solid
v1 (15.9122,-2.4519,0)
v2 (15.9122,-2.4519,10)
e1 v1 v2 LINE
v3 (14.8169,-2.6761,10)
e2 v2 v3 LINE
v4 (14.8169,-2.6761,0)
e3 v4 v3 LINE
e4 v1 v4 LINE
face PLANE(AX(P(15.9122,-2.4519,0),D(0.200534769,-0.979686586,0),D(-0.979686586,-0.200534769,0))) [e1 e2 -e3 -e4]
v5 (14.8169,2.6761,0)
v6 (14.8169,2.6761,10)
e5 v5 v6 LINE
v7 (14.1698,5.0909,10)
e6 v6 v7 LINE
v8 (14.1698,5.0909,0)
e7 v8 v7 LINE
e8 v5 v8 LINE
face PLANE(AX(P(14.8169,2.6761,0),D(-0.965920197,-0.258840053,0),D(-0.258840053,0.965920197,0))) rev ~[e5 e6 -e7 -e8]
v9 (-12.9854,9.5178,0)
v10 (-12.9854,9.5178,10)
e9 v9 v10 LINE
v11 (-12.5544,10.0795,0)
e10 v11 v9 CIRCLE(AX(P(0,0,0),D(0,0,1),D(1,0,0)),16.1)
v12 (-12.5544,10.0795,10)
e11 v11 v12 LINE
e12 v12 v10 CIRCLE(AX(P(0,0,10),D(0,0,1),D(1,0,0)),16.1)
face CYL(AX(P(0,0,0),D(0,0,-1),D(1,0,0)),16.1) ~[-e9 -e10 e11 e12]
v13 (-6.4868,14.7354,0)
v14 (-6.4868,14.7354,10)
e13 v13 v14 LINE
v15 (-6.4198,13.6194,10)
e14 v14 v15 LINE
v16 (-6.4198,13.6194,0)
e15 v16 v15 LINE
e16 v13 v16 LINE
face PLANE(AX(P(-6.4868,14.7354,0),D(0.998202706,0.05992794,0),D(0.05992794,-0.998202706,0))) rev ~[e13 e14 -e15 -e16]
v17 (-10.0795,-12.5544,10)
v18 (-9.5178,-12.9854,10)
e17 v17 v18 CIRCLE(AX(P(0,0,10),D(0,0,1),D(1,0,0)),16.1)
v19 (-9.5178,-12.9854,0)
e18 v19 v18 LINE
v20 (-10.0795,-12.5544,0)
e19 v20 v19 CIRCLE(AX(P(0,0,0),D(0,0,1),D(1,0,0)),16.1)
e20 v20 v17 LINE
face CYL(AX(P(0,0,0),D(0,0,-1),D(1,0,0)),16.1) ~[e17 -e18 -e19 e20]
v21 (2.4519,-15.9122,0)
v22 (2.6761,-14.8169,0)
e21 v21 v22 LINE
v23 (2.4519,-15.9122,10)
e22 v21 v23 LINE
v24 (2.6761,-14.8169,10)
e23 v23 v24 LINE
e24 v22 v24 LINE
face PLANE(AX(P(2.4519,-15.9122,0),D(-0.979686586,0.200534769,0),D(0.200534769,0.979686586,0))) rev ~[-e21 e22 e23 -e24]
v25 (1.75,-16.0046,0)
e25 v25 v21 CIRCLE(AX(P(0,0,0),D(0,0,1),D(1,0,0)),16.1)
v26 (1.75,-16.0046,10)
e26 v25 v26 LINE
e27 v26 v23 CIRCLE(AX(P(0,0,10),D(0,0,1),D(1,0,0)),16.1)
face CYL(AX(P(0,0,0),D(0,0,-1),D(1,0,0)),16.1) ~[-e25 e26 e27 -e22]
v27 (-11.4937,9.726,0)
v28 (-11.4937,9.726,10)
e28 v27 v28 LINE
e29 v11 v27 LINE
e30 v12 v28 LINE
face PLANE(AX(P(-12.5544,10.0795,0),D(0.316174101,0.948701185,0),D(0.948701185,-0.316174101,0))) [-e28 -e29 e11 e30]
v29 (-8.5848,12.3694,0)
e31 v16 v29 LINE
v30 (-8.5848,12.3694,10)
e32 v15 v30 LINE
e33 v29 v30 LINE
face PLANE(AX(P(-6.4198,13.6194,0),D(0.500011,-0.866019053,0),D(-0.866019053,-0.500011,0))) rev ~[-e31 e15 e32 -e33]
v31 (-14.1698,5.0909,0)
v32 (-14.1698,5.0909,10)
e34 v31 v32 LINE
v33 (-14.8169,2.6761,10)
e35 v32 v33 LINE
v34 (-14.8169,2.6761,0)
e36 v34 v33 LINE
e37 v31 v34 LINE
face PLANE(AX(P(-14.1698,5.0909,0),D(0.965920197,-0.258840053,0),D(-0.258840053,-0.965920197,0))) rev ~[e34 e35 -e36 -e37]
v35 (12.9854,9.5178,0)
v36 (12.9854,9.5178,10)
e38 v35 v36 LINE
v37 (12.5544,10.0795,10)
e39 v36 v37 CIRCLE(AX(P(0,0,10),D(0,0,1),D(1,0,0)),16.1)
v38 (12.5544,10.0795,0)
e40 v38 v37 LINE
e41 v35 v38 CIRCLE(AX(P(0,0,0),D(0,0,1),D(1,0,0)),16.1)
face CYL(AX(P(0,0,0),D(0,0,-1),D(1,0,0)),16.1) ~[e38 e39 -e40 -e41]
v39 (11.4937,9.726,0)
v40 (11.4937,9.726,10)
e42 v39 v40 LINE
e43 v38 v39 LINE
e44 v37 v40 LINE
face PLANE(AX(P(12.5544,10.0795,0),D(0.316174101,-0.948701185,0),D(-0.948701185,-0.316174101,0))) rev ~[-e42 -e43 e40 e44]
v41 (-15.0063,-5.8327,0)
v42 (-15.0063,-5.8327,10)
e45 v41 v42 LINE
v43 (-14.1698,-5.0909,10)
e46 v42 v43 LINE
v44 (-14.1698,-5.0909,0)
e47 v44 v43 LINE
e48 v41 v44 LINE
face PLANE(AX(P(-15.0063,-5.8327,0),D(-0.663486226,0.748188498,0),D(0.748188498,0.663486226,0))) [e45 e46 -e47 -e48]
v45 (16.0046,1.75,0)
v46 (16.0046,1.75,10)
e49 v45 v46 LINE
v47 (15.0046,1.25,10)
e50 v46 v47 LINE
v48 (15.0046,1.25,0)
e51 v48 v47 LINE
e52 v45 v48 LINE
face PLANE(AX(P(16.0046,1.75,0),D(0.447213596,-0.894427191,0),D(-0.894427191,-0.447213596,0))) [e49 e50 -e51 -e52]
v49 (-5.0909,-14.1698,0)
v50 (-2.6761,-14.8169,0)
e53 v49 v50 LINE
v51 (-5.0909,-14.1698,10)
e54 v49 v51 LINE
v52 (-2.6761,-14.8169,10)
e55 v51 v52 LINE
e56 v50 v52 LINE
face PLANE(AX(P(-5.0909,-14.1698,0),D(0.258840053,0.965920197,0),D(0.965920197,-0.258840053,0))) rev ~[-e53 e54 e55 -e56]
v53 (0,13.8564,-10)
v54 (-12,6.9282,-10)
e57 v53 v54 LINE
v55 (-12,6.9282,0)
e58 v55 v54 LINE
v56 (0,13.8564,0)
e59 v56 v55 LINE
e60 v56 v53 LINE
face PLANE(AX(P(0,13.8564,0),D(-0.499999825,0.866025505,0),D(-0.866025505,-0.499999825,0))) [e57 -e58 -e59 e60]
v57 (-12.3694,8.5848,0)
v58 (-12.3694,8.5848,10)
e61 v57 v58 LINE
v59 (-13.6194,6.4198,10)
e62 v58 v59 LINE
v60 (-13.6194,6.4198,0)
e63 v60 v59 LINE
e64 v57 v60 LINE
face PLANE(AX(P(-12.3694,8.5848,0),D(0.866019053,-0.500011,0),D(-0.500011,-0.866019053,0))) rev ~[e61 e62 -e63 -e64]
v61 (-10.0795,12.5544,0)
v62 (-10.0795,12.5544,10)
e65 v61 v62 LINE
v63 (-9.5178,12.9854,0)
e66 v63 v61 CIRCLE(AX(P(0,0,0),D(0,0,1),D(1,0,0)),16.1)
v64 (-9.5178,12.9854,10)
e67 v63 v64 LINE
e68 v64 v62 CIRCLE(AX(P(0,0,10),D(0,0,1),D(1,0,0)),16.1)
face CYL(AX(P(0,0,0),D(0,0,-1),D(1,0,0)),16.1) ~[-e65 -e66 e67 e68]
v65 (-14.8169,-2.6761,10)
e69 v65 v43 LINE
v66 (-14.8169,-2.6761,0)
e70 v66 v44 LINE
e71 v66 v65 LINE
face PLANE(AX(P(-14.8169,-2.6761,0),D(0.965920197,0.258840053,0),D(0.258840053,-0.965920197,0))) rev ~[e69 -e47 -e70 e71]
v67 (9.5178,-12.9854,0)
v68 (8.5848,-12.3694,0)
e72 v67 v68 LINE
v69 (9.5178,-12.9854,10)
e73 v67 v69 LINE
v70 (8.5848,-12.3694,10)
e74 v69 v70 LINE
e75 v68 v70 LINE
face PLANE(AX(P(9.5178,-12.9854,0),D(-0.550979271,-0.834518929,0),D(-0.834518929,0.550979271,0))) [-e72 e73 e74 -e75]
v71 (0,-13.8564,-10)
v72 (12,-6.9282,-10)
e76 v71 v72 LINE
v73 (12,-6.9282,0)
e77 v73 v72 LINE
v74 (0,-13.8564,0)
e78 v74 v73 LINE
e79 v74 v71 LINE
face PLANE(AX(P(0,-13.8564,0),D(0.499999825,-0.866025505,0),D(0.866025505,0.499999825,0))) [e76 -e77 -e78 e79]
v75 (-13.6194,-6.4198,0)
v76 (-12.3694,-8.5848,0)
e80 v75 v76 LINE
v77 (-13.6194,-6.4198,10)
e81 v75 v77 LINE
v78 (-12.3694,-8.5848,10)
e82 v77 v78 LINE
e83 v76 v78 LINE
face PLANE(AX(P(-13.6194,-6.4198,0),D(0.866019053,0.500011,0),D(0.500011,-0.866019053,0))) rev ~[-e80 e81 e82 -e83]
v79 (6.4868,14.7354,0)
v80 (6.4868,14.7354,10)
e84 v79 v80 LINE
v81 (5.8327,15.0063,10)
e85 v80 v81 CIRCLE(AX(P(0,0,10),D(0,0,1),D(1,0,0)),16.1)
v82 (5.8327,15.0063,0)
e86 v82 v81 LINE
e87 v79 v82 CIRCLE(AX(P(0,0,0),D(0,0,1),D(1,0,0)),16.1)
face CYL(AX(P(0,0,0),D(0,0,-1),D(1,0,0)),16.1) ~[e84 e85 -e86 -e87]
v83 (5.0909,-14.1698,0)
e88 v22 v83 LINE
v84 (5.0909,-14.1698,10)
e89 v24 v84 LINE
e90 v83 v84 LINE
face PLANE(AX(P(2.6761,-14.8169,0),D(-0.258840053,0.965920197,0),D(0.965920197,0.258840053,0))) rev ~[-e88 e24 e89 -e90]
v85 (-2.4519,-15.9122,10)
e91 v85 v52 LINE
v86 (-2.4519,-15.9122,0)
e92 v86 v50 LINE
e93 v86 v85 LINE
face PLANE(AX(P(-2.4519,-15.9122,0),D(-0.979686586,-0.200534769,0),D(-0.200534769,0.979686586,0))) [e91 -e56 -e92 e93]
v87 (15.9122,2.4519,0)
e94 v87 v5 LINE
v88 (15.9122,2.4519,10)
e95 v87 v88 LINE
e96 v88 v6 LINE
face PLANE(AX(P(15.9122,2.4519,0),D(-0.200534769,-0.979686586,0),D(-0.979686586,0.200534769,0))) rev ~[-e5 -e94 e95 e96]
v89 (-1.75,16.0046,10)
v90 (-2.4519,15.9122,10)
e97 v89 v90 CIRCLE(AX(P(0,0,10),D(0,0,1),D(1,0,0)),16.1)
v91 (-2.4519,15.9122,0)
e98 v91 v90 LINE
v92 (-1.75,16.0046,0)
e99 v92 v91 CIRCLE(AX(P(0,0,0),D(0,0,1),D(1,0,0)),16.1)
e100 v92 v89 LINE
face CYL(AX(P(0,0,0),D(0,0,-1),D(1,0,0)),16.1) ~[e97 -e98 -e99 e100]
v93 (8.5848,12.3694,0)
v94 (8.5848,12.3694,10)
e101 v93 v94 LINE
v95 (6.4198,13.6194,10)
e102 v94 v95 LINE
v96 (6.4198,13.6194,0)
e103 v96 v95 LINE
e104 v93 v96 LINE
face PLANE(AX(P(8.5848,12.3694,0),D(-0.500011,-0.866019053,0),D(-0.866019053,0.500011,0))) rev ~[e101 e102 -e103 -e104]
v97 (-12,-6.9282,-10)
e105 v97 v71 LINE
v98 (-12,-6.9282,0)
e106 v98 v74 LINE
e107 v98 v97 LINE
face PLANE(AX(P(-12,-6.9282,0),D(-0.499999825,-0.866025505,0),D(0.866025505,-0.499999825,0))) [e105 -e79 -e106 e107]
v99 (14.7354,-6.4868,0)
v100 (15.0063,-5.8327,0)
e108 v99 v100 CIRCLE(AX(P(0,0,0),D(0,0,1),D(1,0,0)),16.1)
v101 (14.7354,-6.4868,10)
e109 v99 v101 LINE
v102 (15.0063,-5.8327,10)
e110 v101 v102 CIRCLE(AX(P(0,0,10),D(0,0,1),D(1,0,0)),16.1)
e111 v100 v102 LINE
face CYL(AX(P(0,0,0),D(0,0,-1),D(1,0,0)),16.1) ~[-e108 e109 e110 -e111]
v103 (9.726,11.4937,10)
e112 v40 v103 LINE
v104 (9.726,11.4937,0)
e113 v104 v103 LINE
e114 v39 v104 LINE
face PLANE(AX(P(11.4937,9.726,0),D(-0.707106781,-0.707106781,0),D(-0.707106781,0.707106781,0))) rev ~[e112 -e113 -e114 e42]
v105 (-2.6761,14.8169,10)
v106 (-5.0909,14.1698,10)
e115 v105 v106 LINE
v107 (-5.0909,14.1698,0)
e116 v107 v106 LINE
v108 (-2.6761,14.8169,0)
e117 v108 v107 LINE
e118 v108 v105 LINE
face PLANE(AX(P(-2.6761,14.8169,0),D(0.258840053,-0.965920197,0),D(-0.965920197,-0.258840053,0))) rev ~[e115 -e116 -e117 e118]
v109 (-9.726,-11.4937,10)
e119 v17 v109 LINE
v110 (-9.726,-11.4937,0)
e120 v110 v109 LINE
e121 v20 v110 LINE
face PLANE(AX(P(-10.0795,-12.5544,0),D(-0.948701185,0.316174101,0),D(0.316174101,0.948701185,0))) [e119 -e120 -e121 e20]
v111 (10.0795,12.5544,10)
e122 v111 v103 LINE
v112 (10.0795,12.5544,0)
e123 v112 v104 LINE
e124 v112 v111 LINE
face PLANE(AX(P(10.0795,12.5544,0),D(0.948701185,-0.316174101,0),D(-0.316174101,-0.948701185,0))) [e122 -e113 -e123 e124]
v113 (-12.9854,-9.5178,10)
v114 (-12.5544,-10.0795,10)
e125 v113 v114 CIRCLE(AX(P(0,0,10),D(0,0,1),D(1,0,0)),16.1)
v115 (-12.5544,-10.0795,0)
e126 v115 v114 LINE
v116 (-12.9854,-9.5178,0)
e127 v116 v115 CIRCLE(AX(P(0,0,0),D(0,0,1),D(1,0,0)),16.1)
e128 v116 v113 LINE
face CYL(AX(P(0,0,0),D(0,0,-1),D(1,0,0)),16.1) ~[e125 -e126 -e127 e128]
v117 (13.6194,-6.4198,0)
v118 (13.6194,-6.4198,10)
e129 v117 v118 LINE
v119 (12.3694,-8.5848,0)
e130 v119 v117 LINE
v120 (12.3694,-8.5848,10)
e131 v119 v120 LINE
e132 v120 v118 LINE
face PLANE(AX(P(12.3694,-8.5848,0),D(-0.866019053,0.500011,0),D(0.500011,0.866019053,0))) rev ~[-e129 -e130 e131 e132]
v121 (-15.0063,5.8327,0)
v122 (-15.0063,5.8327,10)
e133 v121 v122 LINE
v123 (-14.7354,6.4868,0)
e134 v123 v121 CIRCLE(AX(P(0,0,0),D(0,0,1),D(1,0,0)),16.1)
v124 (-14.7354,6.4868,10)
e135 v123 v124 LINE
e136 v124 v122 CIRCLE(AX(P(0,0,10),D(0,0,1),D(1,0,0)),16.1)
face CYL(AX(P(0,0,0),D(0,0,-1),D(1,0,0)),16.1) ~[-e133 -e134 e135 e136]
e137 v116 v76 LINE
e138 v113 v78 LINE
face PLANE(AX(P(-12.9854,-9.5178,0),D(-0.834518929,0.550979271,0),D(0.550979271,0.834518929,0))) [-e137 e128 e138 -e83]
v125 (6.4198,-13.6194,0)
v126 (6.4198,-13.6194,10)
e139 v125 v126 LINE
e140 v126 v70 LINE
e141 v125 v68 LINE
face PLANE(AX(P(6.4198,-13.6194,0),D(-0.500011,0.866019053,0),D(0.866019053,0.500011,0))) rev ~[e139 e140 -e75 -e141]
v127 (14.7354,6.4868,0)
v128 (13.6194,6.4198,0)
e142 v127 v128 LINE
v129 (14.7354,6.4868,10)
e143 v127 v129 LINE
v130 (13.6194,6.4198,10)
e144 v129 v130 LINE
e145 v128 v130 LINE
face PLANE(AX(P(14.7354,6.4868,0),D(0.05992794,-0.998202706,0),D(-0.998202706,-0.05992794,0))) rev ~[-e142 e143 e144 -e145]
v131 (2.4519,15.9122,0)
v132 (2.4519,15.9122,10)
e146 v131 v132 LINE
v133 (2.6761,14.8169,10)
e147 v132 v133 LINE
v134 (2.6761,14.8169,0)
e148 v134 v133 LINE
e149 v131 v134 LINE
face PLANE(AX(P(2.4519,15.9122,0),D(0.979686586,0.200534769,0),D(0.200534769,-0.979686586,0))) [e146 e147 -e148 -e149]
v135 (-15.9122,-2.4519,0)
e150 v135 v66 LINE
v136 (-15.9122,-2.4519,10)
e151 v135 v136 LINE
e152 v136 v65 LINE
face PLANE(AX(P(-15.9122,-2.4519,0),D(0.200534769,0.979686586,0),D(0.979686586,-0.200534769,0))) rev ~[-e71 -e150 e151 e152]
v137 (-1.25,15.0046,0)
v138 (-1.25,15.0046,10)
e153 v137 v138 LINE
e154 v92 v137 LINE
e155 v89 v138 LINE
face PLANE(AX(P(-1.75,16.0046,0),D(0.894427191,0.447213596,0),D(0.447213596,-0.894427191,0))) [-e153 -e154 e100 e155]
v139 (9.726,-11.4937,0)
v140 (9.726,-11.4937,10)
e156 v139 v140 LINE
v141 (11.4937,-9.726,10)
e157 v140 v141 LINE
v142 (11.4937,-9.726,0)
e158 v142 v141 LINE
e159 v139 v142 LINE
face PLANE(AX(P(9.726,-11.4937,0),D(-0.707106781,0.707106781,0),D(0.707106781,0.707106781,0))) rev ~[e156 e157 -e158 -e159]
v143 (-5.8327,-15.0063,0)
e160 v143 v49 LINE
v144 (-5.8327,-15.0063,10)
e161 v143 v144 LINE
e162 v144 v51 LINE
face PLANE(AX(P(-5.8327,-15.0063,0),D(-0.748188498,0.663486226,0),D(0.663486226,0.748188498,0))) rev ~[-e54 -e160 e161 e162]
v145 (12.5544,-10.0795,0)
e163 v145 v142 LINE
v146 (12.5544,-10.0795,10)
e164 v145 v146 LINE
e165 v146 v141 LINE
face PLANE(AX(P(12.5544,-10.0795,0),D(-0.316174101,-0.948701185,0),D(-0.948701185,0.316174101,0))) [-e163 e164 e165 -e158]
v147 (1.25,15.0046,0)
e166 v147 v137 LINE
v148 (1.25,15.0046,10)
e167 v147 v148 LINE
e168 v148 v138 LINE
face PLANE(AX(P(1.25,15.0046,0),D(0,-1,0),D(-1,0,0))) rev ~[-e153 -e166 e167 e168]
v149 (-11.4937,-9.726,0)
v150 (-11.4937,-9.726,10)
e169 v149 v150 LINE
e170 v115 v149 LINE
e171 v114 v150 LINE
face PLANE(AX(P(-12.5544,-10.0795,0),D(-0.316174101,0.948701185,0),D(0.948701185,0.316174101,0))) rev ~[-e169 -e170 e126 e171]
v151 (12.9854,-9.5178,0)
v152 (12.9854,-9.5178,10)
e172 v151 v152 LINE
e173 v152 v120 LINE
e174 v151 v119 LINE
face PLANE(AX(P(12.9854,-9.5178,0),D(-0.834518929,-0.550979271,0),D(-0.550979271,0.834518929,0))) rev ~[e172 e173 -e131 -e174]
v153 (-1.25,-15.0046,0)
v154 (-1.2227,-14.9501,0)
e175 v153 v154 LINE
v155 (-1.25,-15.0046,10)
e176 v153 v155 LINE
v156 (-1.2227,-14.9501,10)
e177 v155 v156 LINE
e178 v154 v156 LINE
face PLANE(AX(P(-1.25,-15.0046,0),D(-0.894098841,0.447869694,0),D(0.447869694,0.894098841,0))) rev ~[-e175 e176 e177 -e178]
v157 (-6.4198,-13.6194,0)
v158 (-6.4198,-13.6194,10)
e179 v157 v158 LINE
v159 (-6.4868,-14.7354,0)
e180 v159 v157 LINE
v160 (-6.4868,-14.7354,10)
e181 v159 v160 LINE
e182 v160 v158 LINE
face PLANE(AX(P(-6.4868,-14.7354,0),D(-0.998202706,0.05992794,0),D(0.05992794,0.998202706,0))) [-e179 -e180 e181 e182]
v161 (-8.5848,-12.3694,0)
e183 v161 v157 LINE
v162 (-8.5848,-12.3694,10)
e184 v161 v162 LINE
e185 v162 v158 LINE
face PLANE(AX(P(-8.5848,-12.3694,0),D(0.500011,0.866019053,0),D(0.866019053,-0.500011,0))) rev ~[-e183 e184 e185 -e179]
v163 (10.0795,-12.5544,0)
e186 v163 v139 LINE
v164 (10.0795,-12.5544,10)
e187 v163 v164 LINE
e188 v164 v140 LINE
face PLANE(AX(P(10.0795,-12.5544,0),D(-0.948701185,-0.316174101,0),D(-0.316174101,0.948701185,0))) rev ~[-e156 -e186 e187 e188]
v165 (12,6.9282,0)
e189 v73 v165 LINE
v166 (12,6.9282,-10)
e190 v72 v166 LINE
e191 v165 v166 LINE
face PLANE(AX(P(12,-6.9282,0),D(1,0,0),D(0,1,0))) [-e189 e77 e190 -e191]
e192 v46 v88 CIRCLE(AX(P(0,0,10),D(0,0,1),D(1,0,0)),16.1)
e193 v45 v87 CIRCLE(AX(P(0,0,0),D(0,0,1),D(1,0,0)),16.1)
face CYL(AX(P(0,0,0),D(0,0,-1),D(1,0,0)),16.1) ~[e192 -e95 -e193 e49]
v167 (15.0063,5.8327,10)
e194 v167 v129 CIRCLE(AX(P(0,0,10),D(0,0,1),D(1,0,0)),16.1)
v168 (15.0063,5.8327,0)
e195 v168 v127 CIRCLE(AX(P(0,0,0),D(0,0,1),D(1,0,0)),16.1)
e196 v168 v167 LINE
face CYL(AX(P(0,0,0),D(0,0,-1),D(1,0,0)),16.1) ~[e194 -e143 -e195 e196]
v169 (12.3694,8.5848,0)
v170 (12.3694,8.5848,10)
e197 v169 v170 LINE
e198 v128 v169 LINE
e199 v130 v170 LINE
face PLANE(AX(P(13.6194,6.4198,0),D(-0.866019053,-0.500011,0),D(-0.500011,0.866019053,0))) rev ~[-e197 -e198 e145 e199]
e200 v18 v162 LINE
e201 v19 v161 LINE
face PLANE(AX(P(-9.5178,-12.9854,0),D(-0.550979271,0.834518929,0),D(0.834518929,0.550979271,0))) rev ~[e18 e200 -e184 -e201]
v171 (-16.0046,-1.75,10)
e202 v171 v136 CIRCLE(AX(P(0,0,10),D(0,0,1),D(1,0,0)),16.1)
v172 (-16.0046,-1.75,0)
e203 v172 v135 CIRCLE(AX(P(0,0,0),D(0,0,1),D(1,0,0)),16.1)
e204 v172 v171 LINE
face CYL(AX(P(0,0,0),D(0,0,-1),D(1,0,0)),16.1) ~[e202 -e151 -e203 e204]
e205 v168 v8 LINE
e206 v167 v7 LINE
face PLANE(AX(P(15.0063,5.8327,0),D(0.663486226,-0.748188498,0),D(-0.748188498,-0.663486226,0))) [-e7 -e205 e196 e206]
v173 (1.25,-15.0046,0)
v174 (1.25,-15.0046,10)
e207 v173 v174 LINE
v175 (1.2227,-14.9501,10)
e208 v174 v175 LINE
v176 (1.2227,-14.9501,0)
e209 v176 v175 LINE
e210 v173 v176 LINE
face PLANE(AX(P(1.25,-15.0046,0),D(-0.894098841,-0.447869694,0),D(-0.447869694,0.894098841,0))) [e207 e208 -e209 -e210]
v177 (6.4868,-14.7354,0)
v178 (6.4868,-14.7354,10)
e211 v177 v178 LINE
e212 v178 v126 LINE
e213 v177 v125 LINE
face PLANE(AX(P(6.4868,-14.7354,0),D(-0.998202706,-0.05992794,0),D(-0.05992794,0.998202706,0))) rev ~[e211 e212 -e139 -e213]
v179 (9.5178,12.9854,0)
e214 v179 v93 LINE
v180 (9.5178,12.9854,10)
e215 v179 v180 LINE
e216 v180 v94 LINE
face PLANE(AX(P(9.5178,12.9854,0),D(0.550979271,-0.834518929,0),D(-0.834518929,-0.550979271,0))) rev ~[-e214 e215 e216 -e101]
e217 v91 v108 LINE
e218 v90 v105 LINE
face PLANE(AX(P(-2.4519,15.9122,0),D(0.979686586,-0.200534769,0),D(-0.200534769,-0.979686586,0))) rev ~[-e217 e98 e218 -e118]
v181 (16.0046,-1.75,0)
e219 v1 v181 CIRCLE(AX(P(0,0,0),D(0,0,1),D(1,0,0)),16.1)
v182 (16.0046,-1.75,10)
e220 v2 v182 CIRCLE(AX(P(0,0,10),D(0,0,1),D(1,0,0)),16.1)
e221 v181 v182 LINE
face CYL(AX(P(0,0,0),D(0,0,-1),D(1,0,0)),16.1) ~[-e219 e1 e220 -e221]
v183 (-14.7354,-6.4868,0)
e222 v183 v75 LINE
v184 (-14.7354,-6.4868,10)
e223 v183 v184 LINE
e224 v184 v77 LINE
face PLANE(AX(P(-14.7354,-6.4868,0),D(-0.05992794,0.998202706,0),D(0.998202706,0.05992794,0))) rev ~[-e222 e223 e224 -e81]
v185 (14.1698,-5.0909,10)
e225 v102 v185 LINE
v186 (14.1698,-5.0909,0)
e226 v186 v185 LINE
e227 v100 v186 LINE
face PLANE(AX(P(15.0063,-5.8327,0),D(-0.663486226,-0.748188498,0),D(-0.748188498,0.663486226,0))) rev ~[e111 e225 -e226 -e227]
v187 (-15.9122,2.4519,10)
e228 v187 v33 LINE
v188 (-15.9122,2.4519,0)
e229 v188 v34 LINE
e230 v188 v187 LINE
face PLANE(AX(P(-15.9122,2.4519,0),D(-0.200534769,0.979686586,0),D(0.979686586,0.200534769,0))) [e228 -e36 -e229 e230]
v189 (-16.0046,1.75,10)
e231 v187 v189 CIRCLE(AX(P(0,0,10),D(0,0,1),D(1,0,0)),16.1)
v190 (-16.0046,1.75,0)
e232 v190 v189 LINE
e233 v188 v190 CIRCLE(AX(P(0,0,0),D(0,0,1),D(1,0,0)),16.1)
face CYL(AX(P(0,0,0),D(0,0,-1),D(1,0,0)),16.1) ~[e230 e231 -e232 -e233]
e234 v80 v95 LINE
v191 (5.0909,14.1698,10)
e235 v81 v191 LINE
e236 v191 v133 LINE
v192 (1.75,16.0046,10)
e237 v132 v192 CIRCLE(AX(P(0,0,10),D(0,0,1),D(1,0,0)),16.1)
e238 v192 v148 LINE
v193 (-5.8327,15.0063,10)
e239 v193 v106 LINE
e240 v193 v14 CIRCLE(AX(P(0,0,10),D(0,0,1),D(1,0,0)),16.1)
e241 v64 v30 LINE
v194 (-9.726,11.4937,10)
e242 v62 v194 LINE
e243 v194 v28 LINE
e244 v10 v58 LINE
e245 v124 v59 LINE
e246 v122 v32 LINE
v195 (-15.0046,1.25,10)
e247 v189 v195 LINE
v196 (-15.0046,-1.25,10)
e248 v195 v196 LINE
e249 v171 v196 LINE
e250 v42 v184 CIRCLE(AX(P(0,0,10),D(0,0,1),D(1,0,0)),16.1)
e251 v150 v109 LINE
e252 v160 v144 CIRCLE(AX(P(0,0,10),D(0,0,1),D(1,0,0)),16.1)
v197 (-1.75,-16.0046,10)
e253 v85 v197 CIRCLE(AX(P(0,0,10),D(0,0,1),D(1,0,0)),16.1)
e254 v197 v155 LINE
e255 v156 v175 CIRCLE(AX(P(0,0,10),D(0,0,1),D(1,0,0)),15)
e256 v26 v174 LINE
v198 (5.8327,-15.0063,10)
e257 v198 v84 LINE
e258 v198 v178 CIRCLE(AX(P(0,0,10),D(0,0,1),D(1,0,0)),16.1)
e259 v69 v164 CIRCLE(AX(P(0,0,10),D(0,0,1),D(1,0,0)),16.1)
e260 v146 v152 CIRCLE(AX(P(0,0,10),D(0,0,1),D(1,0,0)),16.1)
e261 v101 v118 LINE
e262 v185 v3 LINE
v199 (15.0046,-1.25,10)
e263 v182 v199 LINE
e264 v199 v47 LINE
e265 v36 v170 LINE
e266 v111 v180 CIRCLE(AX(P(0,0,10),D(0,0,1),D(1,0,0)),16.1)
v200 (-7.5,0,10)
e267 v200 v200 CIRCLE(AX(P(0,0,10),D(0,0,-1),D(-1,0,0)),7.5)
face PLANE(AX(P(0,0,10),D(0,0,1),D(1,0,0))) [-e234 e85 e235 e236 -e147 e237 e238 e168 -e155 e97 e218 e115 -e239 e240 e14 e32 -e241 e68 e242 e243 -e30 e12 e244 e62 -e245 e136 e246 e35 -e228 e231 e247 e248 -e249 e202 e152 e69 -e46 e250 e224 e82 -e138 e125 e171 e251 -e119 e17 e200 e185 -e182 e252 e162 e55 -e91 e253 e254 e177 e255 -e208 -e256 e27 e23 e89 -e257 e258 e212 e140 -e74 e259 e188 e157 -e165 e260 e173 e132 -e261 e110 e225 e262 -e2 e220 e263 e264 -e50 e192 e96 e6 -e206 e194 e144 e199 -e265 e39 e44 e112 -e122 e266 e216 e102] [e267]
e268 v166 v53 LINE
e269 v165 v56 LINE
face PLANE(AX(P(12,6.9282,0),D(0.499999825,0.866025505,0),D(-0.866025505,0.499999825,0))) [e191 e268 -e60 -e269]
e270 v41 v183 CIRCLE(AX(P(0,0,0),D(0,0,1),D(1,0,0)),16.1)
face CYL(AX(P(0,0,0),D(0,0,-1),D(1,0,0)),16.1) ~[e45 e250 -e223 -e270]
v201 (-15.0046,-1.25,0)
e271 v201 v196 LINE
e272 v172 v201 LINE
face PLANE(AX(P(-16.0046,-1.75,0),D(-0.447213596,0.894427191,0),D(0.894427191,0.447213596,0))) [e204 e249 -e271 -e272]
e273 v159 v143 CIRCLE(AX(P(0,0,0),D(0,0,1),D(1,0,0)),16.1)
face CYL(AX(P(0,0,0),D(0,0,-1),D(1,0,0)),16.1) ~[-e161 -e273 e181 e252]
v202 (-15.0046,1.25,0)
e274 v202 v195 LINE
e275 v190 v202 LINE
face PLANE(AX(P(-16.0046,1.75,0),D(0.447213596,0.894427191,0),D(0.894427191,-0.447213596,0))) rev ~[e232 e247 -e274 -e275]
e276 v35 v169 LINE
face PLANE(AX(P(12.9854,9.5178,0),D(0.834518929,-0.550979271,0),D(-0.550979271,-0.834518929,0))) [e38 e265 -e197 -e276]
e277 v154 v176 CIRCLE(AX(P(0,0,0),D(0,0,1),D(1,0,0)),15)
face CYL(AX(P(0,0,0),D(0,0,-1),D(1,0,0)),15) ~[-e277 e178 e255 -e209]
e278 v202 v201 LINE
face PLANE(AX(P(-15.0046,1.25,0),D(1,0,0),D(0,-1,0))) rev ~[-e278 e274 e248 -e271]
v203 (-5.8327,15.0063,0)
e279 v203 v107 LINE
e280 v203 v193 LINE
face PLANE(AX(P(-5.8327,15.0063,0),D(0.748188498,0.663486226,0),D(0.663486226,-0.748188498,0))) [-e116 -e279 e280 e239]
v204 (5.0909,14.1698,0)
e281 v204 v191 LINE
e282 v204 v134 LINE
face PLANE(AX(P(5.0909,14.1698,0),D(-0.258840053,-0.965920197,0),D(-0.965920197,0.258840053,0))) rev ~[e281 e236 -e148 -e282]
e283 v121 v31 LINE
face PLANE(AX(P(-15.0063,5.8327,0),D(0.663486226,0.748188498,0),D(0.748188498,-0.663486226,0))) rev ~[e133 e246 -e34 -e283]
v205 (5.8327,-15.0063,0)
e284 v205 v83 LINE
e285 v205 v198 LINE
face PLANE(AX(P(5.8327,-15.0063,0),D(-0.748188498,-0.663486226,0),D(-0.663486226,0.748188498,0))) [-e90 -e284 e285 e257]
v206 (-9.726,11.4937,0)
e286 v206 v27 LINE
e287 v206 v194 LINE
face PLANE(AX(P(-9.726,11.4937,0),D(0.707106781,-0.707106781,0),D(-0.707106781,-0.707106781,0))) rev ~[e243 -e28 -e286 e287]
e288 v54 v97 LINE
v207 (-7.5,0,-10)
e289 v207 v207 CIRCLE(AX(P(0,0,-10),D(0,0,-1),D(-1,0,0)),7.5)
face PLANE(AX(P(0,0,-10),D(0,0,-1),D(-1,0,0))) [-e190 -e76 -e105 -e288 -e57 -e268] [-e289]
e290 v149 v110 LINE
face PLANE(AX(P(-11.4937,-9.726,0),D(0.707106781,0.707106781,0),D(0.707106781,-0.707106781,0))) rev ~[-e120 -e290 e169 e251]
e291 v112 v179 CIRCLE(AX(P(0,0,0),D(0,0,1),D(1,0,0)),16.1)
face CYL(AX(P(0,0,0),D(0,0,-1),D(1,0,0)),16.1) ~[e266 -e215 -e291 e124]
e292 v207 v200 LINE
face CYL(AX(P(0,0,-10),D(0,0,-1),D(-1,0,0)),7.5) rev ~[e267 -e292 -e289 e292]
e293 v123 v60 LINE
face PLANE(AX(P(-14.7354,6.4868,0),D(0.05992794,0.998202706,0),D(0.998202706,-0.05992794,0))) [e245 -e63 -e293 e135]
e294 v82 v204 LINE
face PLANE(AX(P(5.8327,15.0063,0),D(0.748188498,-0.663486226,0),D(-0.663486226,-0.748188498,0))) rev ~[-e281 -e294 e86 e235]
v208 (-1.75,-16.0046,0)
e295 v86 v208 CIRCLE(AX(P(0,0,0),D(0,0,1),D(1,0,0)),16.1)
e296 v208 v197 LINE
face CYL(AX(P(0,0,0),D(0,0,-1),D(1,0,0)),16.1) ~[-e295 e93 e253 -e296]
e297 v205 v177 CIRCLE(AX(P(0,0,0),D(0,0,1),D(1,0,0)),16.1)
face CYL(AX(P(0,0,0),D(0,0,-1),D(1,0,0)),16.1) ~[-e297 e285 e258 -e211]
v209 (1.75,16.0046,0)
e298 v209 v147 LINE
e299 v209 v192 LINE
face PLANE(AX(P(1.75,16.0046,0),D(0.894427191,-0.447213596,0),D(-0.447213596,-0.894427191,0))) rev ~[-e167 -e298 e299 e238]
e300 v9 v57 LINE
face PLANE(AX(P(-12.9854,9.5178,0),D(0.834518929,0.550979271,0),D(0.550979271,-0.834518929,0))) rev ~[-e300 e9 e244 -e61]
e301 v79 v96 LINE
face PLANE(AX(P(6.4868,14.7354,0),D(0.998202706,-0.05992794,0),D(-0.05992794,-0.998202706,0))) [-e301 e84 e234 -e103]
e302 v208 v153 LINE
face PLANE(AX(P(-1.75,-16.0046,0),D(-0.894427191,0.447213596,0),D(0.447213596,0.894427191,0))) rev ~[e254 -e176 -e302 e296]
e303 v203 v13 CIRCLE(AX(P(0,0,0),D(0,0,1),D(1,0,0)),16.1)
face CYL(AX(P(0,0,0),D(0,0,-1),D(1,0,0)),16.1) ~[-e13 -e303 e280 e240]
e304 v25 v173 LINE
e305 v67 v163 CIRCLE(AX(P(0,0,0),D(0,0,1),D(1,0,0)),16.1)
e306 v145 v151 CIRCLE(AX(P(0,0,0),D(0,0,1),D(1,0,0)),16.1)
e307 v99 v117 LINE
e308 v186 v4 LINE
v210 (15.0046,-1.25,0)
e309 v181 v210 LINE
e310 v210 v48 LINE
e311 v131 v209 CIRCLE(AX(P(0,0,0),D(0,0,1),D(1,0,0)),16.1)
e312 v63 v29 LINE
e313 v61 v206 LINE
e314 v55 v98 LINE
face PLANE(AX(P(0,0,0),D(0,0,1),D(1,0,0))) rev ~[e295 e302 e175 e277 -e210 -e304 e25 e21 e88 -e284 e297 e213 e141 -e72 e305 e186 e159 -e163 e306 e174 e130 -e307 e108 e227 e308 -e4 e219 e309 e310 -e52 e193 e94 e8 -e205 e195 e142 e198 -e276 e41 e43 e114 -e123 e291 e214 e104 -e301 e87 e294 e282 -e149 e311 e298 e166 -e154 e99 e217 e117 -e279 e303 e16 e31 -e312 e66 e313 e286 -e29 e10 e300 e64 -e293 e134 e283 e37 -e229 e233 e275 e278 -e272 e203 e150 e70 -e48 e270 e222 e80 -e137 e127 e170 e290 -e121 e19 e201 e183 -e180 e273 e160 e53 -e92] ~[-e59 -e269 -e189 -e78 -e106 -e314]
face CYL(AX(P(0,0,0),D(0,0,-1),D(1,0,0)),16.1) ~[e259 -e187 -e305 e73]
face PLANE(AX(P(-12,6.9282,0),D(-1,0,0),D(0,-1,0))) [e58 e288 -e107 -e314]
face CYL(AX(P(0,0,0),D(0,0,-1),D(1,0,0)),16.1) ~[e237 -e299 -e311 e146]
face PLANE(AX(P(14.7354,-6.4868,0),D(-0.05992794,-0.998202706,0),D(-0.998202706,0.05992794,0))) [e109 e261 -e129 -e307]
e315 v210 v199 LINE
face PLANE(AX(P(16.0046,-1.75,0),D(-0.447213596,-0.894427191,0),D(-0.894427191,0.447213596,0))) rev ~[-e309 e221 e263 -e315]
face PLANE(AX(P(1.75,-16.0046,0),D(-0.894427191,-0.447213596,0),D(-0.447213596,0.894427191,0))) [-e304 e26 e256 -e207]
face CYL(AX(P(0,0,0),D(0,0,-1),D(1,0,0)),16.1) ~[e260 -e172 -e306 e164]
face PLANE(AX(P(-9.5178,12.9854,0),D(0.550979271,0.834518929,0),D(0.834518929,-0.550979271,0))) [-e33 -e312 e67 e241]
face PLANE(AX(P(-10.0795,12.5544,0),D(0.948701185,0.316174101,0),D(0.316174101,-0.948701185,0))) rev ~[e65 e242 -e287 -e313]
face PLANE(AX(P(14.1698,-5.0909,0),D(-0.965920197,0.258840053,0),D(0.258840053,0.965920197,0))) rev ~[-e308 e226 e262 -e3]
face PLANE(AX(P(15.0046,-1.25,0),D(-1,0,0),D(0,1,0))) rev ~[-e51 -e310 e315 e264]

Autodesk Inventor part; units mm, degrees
ref_plane "YZ Plane" through (0, 0, 0) normal (1, 0, 0) x (0, 1, 0)
ref_plane "XZ Plane" through (0, 0, 0) normal (0, 1, 0) x (-1, 0, 0)
ref_plane "XY Plane" through (0, 0, 0) normal (0, 0, 1) x (1, 0, 0)
sketch "Sketch1" plane through (0, 0, 0) normal (0, 0, 1) x (1, 0, 0)
  circle A0 centre (0, 0) radius 17.25
  circle A1 centre (0, 0) radius 16.1
  circle A2 centre (0, 0) radius 15
  line L0 (-1.25, -15.0046) -> (1.25, -15.0046)
  line L1 (-1.75, -16.0046) -> (1.75, -16.0046)
  line L2 (1.75, -16.0046) -> (1.25, -15.0046)
  line L3 (-1.75, -16.0046) -> (-1.25, -15.0046)
  line L4 (-1.25, -15.0046) -> (-1.2227, -14.9501)
  line L5 (1.25, -15.0046) -> (1.2227, -14.9501)
  line L6 (2.6761, -14.8169) -> (5.0909, -14.1698)
  line L7 (2.4519, -15.9122) -> (2.6761, -14.8169)
  line L8 (2.6761, -14.8169) -> (2.6883, -14.7571)
  line L9 (5.8327, -15.0063) -> (5.0909, -14.1698)
  line L10 (5.0909, -14.1698) -> (5.0504, -14.1242)
  line L11 (6.4198, -13.6194) -> (8.5848, -12.3694)
  line L12 (6.4868, -14.7354) -> (6.4198, -13.6194)
  line L13 (6.4198, -13.6194) -> (6.4161, -13.5585)
  line L14 (9.5178, -12.9854) -> (8.5848, -12.3694)
  line L15 (8.5848, -12.3694) -> (8.534, -12.3358)
  line L16 (9.726, -11.4937) -> (11.4937, -9.726)
  line L17 (10.0795, -12.5544) -> (9.726, -11.4937)
  line L18 (9.726, -11.4937) -> (9.7067, -11.4359)
  line L19 (12.5544, -10.0795) -> (11.4937, -9.726)
  line L20 (11.4937, -9.726) -> (11.4359, -9.7067)
  line L21 (12.3694, -8.5848) -> (13.6194, -6.4198)
  line L22 (12.9854, -9.5178) -> (12.3694, -8.5848)
  line L23 (12.3694, -8.5848) -> (12.3358, -8.534)
  line L24 (14.7354, -6.4868) -> (13.6194, -6.4198)
  line L25 (13.6194, -6.4198) -> (13.5585, -6.4161)
  line L26 (14.1698, -5.0909) -> (14.8169, -2.6761)
  line L27 (15.0063, -5.8327) -> (14.1698, -5.0909)
  line L28 (14.1698, -5.0909) -> (14.1242, -5.0504)
  line L29 (15.9122, -2.4519) -> (14.8169, -2.6761)
  line L30 (14.8169, -2.6761) -> (14.7571, -2.6883)
  line L31 (15.0046, -1.25) -> (15.0046, 1.25)
  line L32 (16.0046, -1.75) -> (15.0046, -1.25)
  line L33 (15.0046, -1.25) -> (14.9501, -1.2227)
  line L34 (16.0046, 1.75) -> (15.0046, 1.25)
  line L35 (15.0046, 1.25) -> (14.9501, 1.2227)
  line L36 (14.8169, 2.6761) -> (14.1698, 5.0909)
  line L37 (15.9122, 2.4519) -> (14.8169, 2.6761)
  line L38 (14.8169, 2.6761) -> (14.7571, 2.6883)
  line L39 (15.0063, 5.8327) -> (14.1698, 5.0909)
  line L40 (14.1698, 5.0909) -> (14.1242, 5.0504)
  line L41 (13.6194, 6.4198) -> (12.3694, 8.5848)
  line L42 (14.7354, 6.4868) -> (13.6194, 6.4198)
  line L43 (13.6194, 6.4198) -> (13.5585, 6.4161)
  line L44 (12.9854, 9.5178) -> (12.3694, 8.5848)
  line L45 (12.3694, 8.5848) -> (12.3358, 8.534)
  line L46 (11.4937, 9.726) -> (9.726, 11.4937)
  line L47 (12.5544, 10.0795) -> (11.4937, 9.726)
  line L48 (11.4937, 9.726) -> (11.4359, 9.7067)
  line L49 (10.0795, 12.5544) -> (9.726, 11.4937)
  line L50 (9.726, 11.4937) -> (9.7067, 11.4359)
  line L51 (8.5848, 12.3694) -> (6.4198, 13.6194)
  line L52 (9.5178, 12.9854) -> (8.5848, 12.3694)
  line L53 (8.5848, 12.3694) -> (8.534, 12.3358)
  line L54 (6.4868, 14.7354) -> (6.4198, 13.6194)
  line L55 (6.4198, 13.6194) -> (6.4161, 13.5585)
  line L56 (5.0909, 14.1698) -> (2.6761, 14.8169)
  line L57 (5.8327, 15.0063) -> (5.0909, 14.1698)
  line L58 (5.0909, 14.1698) -> (5.0504, 14.1242)
  line L59 (2.4519, 15.9122) -> (2.6761, 14.8169)
  line L60 (2.6761, 14.8169) -> (2.6883, 14.7571)
  line L61 (1.25, 15.0046) -> (-1.25, 15.0046)
  line L62 (1.75, 16.0046) -> (1.25, 15.0046)
  line L63 (1.25, 15.0046) -> (1.2227, 14.9501)
  line L64 (-1.75, 16.0046) -> (-1.25, 15.0046)
  line L65 (-1.25, 15.0046) -> (-1.2227, 14.9501)
  line L66 (-2.6761, 14.8169) -> (-5.0909, 14.1698)
  line L67 (-2.4519, 15.9122) -> (-2.6761, 14.8169)
  line L68 (-2.6761, 14.8169) -> (-2.6883, 14.7571)
  line L69 (-5.8327, 15.0063) -> (-5.0909, 14.1698)
  line L70 (-5.0909, 14.1698) -> (-5.0504, 14.1242)
  line L71 (-6.4198, 13.6194) -> (-8.5848, 12.3694)
  line L72 (-6.4868, 14.7354) -> (-6.4198, 13.6194)
  line L73 (-6.4198, 13.6194) -> (-6.4161, 13.5585)
  line L74 (-9.5178, 12.9854) -> (-8.5848, 12.3694)
  line L75 (-8.5848, 12.3694) -> (-8.534, 12.3358)
  line L76 (-9.726, 11.4937) -> (-11.4937, 9.726)
  line L77 (-10.0795, 12.5544) -> (-9.726, 11.4937)
  line L78 (-9.726, 11.4937) -> (-9.7067, 11.4359)
  line L79 (-12.5544, 10.0795) -> (-11.4937, 9.726)
  line L80 (-11.4937, 9.726) -> (-11.4359, 9.7067)
  line L81 (-12.3694, 8.5848) -> (-13.6194, 6.4198)
  line L82 (-12.9854, 9.5178) -> (-12.3694, 8.5848)
  line L83 (-12.3694, 8.5848) -> (-12.3358, 8.534)
  line L84 (-14.7354, 6.4868) -> (-13.6194, 6.4198)
  line L85 (-13.6194, 6.4198) -> (-13.5585, 6.4161)
  line L86 (-14.1698, 5.0909) -> (-14.8169, 2.6761)
  line L87 (-15.0063, 5.8327) -> (-14.1698, 5.0909)
  line L88 (-14.1698, 5.0909) -> (-14.1242, 5.0504)
  line L89 (-15.9122, 2.4519) -> (-14.8169, 2.6761)
  line L90 (-14.8169, 2.6761) -> (-14.7571, 2.6883)
  line L91 (-15.0046, 1.25) -> (-15.0046, -1.25)
  line L92 (-16.0046, 1.75) -> (-15.0046, 1.25)
  line L93 (-15.0046, 1.25) -> (-14.9501, 1.2227)
  line L94 (-16.0046, -1.75) -> (-15.0046, -1.25)
  line L95 (-15.0046, -1.25) -> (-14.9501, -1.2227)
  line L96 (-14.8169, -2.6761) -> (-14.1698, -5.0909)
  line L97 (-15.9122, -2.4519) -> (-14.8169, -2.6761)
  line L98 (-14.8169, -2.6761) -> (-14.7571, -2.6883)
  line L99 (-15.0063, -5.8327) -> (-14.1698, -5.0909)
  line L100 (-14.1698, -5.0909) -> (-14.1242, -5.0504)
  line L101 (-13.6194, -6.4198) -> (-12.3694, -8.5848)
  line L102 (-14.7354, -6.4868) -> (-13.6194, -6.4198)
  line L103 (-13.6194, -6.4198) -> (-13.5585, -6.4161)
  line L104 (-12.9854, -9.5178) -> (-12.3694, -8.5848)
  line L105 (-12.3694, -8.5848) -> (-12.3358, -8.534)
  line L106 (-11.4937, -9.726) -> (-9.726, -11.4937)
  line L107 (-12.5544, -10.0795) -> (-11.4937, -9.726)
  line L108 (-11.4937, -9.726) -> (-11.4359, -9.7067)
  line L109 (-10.0795, -12.5544) -> (-9.726, -11.4937)
  line L110 (-9.726, -11.4937) -> (-9.7067, -11.4359)
  line L111 (-8.5848, -12.3694) -> (-6.4198, -13.6194)
  line L112 (-9.5178, -12.9854) -> (-8.5848, -12.3694)
  line L113 (-8.5848, -12.3694) -> (-8.534, -12.3358)
  line L114 (-6.4868, -14.7354) -> (-6.4198, -13.6194)
  line L115 (-6.4198, -13.6194) -> (-6.4161, -13.5585)
  line L116 (-5.0909, -14.1698) -> (-2.6761, -14.8169)
  line L117 (-5.8327, -15.0063) -> (-5.0909, -14.1698)
  line L118 (-5.0909, -14.1698) -> (-5.0504, -14.1242)
  line L119 (-2.4519, -15.9122) -> (-2.6761, -14.8169)
  line L120 (-2.6761, -14.8169) -> (-2.6883, -14.7571)
  point P0 (0, -16.0046)
  point P1 (0, -15.0046)
  point P2 (1.75, -16.0046)
  point P3 (3.8835, -14.4933)
  point P4 (7.5023, -12.9944)
  point P5 (10.6099, -10.6099)
  point P6 (12.9944, -7.5023)
  point P7 (14.4933, -3.8835)
  point P8 (15.0046, 0)
  point P9 (14.4933, 3.8835)
  point P10 (12.9944, 7.5023)
  point P11 (10.6099, 10.6099)
  point P12 (7.5023, 12.9944)
  point P13 (3.8835, 14.4933)
  point P14 (0, 15.0046)
  point P15 (-3.8835, 14.4933)
  point P16 (-7.5023, 12.9944)
  point P17 (-10.6099, 10.6099)
  point P18 (-12.9944, 7.5023)
  point P19 (-14.4933, 3.8835)
  point P20 (-15.0046, 0)
  point P21 (-14.4933, -3.8835)
  point P22 (-12.9944, -7.5023)
  point P23 (-10.6099, -10.6099)
  point P24 (-7.5023, -12.9944)
  point P25 (-3.8835, -14.4933)
  dimension "d1" = 32.2
  dimension "d0" = 34.5
  dimension "d2" = 30
  dimension "d3" = 2.5
  dimension "d4" = 3.5
  dimension "d5" = 1
  dimension "d20" = 360
extrude "Extrusion1" add sketch "Sketch1" along normal blind 10 contours L34 L35 A2 L38 L37 A1 | A1 L29 L30 A2 L33 L32 | L31 L33 A2 L35 | L39 L40 A2 L43 L42 A1 | L38 A2 L40 L36 | A2 | A1 L24 L25 A2 L28 L27 | L26 L28 A2 L30 | L44 L45 A2 L48 L47 A1 | L43 A2 L45 L41 | A1 L19 L20 A2 L23 L22 | L21 L23 A2 L25 | L49 L50 A2 L53 L52 A1 | L48 A2 L50 L46 | A1 L14 L15 A2 L18 L17 | L16 L18 A2 L20 | L54 L55 A2 L58 L57 A1 | L53 A2 L55 L51 | A1 L9 L10 A2 L13 L12 | L11 L13 A2 L15 | L59 L60 A2 L63 L62 A1 | L58 A2 L60 L56 | A1 L2 L5 A2 L8 L7 | L6 L8 A2 L10 | L64 L65 A2 L68 L67 A1 | L63 A2 L65 L61 | A1 L119 L120 A2 L4 L3 | L69 L70 A2 L73 L72 A1 | L68 A2 L70 L66 | A1 L114 L115 A2 L118 L117 | L116 L118 A2 L120 | L74 L75 A2 L78 L77 A1 | L73 A2 L75 L71 | A1 L109 L110 A2 L113 L112 | L111 L113 A2 L115 | L79 L80 A2 L83 L82 A1 | L78 A2 L80 L76 | A1 L104 L105 A2 L108 L107 | L106 L108 A2 L110 | L84 L85 A2 L88 L87 A1 | L83 A2 L85 L81 | A1 L99 L100 A2 L103 L102 | L101 L103 A2 L105 | L89 L90 A2 L93 L92 A1 | L88 A2 L90 L86 | A1 L94 L95 A2 L98 L97 | L96 L98 A2 L100 | L93 A2 L95 L91
sketch "Sketch2" plane through (0, 0, 0) normal (0, 0, -1) x (-1, 0, 0)
  line L0 (12, 6.9282) -> (12, -6.9282)
  line L1 (12, -6.9282) -> (0, -13.8564)
  line L2 (0, -13.8564) -> (-12, -6.9282)
  line L3 (-12, -6.9282) -> (-12, 6.9282)
  line L4 (-12, 6.9282) -> (0, 13.8564)
  line L5 (0, 13.8564) -> (12, 6.9282)
  point P0 (0, 0)
  point P1 (0, 0)
  dimension "d12" = 24
extrude "Extrusion2" add sketch "Sketch2" along normal blind 10
sketch "Sketch3" plane through (0, 0, -10) normal (0, 0, -1) x (-1, 0, 0)
  circle A0 centre (0, 0) radius 7.5
  dimension "d15" = 15
extrude "Extrusion3" cut sketch "Sketch3" against normal up to surface (20 mm away)
properties part number "Nastavek Millard freewheel tool"
